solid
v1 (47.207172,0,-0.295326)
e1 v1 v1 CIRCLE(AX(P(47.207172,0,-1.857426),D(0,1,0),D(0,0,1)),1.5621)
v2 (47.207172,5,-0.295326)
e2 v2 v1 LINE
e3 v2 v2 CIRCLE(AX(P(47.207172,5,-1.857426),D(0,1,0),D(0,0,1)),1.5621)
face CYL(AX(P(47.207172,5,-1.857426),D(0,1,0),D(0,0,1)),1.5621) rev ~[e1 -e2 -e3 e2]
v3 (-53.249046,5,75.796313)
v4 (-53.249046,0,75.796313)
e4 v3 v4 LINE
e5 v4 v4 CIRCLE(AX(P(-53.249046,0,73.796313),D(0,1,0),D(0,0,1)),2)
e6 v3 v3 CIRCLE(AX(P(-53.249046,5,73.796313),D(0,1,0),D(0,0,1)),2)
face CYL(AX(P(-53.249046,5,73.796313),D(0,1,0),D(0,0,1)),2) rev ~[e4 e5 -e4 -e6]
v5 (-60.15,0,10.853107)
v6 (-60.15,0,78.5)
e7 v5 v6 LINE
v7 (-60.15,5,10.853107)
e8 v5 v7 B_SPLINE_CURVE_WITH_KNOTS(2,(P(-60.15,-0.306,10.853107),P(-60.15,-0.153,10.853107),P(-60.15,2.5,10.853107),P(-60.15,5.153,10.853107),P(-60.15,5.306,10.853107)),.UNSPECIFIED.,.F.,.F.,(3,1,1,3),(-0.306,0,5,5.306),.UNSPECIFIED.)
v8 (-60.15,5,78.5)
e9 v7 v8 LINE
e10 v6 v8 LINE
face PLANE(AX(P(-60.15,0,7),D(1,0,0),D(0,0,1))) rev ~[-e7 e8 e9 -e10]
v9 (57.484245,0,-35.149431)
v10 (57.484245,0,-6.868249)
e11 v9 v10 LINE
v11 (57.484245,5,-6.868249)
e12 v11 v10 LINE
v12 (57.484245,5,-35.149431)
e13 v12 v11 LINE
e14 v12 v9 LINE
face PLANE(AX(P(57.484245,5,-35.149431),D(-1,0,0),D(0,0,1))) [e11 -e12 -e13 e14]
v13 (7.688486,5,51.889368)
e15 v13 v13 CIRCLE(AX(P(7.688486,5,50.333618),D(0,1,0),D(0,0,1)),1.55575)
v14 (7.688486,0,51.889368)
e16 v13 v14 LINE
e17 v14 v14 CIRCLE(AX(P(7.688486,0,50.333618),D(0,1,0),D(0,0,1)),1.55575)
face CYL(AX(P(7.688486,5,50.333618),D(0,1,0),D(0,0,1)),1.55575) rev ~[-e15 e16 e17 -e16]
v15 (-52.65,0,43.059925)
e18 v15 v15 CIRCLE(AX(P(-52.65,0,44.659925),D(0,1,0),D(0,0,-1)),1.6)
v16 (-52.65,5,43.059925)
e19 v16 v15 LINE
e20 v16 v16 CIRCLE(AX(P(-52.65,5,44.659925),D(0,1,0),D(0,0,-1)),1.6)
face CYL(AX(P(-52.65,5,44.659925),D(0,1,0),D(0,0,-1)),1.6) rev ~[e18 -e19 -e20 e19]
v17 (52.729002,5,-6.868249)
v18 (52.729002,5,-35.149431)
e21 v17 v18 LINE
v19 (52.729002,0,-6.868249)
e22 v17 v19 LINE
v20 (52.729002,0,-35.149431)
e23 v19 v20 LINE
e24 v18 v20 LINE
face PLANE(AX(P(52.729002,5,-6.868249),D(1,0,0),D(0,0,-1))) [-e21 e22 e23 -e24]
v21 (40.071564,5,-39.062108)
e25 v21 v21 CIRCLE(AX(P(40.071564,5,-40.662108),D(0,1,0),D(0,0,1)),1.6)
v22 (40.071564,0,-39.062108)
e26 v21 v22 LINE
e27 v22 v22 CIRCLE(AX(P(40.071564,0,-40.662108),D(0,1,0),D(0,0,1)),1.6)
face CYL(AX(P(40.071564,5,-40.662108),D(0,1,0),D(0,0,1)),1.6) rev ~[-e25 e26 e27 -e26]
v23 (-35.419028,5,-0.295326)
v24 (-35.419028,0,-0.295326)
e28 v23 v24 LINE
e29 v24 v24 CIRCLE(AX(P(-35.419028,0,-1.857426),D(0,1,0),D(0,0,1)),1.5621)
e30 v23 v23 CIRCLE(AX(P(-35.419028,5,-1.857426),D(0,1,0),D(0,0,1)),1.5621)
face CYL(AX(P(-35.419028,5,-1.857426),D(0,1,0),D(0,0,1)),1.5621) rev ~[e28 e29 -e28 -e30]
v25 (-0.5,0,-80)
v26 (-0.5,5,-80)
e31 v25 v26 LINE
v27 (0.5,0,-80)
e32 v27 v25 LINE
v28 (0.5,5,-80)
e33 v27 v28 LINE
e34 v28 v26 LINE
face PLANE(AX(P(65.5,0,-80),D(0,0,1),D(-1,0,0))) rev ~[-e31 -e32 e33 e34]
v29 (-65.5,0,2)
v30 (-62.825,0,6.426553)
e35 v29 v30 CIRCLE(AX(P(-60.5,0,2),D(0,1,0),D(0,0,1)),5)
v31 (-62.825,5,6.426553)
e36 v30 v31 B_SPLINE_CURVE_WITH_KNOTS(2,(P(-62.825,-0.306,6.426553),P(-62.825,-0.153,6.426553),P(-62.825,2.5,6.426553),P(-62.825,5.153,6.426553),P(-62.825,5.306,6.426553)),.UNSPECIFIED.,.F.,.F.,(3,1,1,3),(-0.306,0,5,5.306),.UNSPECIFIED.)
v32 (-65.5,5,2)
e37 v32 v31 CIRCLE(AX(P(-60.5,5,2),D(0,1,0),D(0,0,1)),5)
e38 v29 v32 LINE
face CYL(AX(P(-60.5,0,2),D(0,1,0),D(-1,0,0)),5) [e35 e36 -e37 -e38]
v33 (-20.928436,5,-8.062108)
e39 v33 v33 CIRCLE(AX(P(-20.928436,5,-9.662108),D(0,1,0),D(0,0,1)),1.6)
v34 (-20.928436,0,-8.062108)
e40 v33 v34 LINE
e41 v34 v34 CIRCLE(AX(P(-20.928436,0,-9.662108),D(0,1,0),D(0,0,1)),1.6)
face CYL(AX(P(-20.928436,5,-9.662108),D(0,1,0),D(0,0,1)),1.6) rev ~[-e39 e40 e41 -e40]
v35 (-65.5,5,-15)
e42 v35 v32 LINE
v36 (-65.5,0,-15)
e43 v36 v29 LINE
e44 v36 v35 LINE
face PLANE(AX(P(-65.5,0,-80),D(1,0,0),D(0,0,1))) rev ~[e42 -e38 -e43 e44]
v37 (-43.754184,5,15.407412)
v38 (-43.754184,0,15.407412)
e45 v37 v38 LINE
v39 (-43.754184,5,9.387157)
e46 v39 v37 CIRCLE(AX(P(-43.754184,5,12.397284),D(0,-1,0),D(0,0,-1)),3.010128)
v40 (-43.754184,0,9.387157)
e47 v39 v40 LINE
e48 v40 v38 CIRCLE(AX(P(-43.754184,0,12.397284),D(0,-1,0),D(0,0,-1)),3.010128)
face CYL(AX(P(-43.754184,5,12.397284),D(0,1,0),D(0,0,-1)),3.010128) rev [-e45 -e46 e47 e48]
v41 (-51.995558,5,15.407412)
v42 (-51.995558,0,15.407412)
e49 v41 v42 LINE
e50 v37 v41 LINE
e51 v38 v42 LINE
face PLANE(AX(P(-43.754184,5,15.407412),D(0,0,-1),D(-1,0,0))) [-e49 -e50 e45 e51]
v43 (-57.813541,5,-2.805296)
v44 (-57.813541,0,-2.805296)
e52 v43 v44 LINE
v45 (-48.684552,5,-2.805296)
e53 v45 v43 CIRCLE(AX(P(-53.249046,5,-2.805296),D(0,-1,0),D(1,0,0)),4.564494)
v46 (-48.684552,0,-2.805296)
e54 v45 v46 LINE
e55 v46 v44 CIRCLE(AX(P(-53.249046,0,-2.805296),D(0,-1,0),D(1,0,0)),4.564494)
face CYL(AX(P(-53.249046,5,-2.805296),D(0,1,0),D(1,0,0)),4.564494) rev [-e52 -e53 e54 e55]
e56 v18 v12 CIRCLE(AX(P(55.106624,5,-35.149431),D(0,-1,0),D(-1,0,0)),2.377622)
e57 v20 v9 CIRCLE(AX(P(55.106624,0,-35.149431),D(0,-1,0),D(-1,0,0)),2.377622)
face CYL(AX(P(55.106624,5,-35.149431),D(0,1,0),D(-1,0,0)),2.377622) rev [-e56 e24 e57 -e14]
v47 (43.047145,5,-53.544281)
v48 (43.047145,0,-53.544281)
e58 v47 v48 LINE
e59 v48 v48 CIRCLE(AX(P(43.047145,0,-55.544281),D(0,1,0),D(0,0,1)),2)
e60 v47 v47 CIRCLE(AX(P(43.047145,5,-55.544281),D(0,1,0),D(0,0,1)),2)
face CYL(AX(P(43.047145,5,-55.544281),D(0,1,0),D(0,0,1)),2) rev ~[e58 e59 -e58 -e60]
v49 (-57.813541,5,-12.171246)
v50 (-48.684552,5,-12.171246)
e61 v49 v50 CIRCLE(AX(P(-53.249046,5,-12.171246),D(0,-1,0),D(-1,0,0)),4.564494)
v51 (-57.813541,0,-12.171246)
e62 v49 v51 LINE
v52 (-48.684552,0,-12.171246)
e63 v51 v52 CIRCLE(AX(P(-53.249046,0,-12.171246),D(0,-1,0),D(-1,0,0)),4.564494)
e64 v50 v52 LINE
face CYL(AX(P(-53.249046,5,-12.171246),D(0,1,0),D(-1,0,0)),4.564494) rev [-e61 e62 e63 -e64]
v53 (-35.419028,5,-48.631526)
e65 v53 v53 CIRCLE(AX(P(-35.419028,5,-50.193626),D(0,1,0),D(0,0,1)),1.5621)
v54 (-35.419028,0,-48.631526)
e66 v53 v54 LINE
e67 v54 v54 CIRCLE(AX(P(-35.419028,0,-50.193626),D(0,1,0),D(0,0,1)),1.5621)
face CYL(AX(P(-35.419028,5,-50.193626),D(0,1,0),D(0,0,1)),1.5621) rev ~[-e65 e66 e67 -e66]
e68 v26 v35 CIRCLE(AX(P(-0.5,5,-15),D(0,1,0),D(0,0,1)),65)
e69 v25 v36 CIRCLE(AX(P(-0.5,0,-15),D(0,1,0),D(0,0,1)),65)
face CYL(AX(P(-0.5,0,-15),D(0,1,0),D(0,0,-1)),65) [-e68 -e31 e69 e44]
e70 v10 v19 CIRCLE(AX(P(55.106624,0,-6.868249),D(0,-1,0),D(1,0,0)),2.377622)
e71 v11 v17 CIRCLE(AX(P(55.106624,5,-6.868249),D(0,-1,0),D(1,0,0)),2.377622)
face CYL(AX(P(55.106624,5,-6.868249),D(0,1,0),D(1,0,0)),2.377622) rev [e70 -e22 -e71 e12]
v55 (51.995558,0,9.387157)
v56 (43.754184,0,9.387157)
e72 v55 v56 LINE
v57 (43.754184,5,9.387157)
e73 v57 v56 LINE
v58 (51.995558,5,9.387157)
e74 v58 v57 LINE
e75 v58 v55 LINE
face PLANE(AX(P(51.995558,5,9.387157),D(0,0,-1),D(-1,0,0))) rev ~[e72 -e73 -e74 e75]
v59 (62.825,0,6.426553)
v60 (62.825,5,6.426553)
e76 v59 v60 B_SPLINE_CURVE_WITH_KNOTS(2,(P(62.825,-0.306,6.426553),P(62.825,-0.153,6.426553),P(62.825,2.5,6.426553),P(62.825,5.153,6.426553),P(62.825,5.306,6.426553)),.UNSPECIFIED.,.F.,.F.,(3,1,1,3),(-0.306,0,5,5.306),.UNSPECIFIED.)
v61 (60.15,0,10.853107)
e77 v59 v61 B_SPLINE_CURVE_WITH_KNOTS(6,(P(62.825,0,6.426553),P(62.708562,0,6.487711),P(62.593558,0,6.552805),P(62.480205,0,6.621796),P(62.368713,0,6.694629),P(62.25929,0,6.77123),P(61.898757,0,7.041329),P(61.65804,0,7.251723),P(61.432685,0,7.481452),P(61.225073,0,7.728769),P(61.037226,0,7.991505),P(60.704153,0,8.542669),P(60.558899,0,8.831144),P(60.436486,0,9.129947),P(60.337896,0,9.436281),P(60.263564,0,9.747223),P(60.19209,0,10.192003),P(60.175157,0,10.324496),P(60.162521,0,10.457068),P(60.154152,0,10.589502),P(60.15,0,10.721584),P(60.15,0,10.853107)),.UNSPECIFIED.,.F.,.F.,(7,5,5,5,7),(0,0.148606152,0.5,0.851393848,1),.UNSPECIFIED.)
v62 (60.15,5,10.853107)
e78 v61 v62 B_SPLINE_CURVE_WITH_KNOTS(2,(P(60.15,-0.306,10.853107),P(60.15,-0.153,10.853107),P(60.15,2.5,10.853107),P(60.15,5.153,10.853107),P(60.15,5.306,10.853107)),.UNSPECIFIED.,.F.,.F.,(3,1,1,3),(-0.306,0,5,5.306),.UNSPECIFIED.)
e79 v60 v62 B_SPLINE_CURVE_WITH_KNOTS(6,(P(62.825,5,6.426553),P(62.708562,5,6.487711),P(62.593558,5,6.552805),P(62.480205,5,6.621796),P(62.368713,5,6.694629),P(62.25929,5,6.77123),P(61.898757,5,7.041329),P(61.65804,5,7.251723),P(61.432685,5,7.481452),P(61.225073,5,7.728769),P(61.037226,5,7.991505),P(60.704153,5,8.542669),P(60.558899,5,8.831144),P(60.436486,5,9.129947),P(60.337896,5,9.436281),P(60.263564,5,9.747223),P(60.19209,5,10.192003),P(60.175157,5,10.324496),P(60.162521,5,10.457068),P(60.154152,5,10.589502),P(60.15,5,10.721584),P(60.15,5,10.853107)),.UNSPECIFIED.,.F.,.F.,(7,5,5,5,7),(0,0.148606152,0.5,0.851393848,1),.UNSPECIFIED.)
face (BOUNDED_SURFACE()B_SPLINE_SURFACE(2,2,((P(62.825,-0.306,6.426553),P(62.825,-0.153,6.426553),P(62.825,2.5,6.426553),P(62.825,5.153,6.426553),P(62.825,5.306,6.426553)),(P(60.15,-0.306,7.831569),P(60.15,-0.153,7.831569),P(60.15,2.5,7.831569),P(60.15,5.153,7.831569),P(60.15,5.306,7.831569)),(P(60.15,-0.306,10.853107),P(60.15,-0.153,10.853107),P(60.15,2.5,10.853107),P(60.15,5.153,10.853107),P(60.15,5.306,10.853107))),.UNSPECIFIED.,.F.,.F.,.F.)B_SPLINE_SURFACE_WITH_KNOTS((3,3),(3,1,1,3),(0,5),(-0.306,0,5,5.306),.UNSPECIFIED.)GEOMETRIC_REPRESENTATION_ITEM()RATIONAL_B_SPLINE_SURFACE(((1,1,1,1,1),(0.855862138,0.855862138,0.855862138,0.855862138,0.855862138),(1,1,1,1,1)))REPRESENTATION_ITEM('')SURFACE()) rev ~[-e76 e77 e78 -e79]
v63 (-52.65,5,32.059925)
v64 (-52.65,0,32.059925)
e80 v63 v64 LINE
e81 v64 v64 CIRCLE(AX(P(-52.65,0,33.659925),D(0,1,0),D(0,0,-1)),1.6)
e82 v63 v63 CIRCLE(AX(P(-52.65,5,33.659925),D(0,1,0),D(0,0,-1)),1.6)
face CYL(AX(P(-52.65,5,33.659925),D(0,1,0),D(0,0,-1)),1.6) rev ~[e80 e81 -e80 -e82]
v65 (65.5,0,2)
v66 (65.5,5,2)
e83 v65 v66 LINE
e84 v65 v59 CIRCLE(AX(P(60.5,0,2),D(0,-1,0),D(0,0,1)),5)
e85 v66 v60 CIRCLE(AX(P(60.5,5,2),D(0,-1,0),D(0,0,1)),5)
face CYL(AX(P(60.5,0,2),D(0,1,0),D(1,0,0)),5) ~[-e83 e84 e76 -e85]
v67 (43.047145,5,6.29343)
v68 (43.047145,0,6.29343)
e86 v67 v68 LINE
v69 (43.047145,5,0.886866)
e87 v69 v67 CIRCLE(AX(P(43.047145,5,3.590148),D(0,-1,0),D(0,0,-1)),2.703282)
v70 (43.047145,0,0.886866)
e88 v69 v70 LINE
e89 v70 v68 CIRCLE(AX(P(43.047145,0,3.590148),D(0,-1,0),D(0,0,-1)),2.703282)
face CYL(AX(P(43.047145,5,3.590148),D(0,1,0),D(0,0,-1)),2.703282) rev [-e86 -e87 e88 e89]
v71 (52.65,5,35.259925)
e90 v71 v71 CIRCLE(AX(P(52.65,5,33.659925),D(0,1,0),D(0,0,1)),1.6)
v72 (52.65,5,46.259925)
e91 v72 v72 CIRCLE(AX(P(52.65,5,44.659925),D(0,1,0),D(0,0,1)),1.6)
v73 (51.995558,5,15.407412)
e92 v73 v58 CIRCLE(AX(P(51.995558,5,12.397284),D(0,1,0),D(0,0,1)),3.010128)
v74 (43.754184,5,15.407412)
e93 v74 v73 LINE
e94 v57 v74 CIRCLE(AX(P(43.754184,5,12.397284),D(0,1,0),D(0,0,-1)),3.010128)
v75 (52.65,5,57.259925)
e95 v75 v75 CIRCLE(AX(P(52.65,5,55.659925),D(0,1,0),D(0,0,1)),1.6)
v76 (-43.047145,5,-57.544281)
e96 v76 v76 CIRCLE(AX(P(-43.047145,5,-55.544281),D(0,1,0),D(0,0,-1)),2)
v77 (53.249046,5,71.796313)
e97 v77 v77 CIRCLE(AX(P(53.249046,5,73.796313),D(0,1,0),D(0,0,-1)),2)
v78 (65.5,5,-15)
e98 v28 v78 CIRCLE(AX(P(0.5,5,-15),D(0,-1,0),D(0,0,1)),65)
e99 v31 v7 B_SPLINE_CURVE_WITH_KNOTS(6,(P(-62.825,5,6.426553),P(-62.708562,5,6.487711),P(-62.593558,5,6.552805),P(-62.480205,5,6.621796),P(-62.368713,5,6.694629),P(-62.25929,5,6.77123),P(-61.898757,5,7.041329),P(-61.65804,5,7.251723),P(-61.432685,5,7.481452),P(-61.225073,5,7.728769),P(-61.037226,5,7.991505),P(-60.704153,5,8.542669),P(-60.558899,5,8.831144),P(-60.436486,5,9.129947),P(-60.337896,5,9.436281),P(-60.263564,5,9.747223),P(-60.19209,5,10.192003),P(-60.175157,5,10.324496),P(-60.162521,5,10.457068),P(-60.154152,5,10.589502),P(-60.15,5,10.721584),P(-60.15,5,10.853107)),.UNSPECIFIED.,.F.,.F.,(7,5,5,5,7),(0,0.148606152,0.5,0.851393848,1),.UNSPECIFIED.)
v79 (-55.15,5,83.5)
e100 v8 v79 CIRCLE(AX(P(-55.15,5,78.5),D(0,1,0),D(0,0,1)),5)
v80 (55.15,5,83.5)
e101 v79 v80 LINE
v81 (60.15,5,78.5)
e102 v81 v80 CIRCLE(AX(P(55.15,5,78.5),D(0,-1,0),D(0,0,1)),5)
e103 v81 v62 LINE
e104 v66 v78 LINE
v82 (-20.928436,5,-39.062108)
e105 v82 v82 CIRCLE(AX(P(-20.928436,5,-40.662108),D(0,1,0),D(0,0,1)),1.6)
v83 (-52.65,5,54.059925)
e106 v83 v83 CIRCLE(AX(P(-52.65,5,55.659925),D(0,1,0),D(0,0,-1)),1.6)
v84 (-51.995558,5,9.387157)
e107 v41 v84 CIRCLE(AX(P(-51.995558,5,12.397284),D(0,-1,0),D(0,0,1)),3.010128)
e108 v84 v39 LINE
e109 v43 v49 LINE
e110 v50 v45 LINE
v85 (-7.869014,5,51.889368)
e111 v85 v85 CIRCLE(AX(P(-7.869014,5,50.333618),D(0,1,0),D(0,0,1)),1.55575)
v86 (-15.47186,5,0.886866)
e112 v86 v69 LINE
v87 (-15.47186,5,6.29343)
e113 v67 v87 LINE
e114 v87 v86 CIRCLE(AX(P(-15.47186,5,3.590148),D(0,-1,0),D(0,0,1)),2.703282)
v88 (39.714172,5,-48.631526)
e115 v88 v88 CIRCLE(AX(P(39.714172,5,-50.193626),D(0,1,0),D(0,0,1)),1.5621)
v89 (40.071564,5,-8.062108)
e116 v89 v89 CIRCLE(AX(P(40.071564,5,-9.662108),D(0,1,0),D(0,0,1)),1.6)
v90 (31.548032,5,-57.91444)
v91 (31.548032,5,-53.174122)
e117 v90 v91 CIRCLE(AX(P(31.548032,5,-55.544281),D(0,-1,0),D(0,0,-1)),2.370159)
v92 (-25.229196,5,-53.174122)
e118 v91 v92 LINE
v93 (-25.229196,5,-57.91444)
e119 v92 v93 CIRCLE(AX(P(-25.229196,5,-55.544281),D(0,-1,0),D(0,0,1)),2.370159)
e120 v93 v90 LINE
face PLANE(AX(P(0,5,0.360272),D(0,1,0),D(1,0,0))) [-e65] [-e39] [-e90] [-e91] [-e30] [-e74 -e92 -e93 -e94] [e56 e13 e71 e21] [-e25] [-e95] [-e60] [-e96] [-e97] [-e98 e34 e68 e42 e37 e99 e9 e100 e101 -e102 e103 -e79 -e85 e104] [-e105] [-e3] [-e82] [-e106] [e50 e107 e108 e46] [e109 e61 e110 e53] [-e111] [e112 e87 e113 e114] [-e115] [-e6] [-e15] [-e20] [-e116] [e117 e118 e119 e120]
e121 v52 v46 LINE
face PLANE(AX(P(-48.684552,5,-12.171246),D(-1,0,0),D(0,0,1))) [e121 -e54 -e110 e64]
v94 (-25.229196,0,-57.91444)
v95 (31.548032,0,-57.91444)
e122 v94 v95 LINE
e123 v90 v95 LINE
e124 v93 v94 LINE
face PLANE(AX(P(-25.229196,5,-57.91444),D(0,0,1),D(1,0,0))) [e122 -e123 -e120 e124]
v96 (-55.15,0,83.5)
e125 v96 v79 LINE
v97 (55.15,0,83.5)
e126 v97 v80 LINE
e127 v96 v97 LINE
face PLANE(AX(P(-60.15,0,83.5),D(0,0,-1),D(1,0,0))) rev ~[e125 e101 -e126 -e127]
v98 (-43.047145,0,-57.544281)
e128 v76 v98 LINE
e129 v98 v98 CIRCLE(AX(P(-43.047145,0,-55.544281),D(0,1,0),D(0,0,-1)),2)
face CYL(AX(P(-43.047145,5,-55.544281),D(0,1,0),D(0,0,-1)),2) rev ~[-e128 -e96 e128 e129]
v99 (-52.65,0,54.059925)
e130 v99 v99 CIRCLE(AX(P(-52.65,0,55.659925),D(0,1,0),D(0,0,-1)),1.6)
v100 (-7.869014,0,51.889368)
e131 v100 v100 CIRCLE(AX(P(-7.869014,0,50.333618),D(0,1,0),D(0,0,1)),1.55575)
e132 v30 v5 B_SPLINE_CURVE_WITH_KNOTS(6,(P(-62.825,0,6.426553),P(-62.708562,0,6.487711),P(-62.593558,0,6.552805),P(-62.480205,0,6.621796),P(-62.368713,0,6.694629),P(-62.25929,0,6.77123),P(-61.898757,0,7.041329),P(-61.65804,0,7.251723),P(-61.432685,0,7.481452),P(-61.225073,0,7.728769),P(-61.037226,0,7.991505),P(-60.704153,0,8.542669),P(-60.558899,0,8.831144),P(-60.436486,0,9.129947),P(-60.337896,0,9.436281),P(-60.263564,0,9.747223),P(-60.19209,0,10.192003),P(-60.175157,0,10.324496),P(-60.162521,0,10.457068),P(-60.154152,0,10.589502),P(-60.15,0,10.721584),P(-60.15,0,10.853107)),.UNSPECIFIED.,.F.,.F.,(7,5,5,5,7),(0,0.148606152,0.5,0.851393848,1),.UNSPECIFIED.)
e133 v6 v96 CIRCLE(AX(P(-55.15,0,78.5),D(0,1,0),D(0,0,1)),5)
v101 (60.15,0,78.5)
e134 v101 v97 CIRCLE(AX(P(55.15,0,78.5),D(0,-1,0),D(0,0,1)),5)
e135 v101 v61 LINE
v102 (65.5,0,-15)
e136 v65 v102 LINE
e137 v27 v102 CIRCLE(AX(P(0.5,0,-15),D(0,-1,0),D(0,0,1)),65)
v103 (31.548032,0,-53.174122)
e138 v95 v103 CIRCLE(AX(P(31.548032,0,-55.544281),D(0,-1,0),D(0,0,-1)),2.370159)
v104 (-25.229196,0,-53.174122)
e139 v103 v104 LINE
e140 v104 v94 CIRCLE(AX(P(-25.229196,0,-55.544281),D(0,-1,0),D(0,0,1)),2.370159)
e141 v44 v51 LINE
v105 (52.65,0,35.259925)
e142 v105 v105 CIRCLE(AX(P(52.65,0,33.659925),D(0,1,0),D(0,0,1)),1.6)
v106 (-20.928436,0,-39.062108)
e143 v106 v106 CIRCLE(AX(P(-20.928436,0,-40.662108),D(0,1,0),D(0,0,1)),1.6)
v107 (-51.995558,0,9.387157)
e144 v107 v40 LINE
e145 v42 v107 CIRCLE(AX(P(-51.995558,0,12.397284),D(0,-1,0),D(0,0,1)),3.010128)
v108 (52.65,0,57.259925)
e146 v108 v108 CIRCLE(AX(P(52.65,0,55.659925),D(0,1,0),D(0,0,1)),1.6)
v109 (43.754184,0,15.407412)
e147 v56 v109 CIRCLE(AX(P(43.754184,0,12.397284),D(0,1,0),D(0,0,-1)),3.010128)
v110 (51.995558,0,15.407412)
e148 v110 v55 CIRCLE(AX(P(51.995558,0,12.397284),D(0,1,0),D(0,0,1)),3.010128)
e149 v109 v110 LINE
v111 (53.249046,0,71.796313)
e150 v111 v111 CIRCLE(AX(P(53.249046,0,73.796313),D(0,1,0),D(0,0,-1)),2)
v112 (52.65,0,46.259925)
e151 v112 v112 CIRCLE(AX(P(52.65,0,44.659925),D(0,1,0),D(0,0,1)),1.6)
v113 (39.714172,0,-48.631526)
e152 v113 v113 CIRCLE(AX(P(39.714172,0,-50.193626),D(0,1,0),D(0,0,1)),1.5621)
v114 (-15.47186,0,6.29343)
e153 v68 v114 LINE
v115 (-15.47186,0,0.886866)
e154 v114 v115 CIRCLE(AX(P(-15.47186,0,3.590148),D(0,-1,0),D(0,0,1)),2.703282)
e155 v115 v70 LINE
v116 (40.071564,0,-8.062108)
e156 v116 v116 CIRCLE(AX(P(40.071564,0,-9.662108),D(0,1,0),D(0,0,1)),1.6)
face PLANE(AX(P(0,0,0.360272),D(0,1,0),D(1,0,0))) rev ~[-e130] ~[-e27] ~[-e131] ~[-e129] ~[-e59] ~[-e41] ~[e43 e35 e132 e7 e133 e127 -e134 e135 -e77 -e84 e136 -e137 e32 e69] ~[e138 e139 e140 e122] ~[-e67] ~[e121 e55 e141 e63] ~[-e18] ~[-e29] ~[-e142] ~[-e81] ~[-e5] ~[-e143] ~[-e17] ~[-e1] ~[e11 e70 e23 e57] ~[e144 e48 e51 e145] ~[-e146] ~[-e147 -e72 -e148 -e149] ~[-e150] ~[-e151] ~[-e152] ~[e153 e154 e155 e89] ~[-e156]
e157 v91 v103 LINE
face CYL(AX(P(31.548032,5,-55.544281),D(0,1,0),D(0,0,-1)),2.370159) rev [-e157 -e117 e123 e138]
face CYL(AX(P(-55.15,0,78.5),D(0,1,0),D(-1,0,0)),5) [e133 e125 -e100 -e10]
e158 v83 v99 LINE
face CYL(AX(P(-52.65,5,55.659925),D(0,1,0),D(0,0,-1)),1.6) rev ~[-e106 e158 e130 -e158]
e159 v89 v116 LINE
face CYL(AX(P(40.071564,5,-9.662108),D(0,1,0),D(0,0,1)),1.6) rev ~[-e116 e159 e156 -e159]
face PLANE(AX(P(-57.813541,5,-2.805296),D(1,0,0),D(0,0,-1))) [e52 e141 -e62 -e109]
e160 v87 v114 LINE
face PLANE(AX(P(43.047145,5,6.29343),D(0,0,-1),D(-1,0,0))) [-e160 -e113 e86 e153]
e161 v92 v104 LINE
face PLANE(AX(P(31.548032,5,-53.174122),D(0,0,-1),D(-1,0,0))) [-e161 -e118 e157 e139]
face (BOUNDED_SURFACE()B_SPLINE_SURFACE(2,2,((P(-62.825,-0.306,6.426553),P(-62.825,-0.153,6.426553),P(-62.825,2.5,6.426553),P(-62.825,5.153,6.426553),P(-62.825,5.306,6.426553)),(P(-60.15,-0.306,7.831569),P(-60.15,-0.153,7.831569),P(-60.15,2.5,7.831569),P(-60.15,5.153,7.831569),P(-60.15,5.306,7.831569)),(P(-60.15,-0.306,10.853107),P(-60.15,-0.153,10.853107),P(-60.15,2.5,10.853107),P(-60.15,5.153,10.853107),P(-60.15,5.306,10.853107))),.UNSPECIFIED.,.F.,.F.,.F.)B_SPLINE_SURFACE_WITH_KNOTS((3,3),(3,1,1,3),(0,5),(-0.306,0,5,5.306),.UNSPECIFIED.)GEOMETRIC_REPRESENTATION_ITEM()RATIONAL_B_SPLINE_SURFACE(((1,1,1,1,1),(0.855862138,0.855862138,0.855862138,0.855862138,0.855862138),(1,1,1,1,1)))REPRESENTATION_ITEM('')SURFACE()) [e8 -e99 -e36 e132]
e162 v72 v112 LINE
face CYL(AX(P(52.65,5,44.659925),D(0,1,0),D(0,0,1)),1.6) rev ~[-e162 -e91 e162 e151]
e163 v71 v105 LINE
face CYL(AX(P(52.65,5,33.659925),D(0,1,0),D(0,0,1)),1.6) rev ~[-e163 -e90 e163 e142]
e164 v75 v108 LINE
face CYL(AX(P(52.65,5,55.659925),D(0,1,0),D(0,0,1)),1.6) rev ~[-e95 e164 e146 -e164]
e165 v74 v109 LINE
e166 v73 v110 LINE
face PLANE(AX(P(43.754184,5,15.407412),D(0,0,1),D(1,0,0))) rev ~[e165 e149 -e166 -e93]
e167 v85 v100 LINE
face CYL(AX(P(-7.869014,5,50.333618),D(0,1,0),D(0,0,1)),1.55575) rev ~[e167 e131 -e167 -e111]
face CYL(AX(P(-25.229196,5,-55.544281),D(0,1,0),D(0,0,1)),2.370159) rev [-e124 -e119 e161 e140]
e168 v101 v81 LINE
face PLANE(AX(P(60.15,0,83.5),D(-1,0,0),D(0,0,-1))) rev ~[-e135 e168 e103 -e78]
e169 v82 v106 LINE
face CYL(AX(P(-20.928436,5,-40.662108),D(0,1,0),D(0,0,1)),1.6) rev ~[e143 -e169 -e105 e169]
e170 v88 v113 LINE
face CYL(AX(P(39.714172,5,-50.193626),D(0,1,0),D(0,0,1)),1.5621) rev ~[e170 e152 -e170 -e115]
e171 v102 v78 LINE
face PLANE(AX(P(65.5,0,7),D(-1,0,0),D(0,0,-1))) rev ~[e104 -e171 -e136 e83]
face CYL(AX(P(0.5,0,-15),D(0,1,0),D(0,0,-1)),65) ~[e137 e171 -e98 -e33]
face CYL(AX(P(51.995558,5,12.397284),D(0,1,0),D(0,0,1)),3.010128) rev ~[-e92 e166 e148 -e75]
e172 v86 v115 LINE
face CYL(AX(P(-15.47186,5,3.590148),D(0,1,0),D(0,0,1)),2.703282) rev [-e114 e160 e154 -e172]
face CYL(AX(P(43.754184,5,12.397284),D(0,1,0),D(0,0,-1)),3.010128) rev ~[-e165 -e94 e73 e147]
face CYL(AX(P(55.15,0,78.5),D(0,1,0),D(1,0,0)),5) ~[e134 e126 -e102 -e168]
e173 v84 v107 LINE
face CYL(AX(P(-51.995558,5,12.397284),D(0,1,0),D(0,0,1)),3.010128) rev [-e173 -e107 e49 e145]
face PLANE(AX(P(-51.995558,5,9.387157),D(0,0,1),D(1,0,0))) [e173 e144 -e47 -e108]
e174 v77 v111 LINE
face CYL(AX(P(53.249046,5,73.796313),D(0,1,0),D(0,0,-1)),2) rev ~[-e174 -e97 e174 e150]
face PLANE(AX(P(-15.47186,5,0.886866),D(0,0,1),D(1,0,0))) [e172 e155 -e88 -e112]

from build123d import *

# Parameters (mm, degrees)
BOSS_EXTRUDE2_DEPTH = 5
FILLET8_R           = 65
SKETCH4_R           = 2
SKETCH4_R_2         = 1.5621
SKETCH4_R_3         = 1.55575
SKETCH4_R_4         = 1.6
CUT_EXTRUDE1_DEPTH  = 5
FILLET9_R           = 5
FILLET10_R          = 5


with BuildPart() as part:
    # Sketch1 → Boss-Extrude2 (new body)
    with BuildSketch(Plane(origin=(0, 0, 0), x_dir=(1, 0, 0), z_dir=(0, 1, 0))):
        Polygon((65.5, 80), (-65.5, 80), (-65.5, -7), (-60.15, -7), (-60.15, -83.5), (60.15, -83.5), (60.15, -7), (65.5, -7), align=None)
    extrude(amount=BOSS_EXTRUDE2_DEPTH)

    # Fillet8
    fillet8_edges = [part.edges().sort_by_distance(p)[0] for p in [
        (-65.5, 2.5, -80),
        (65.5, 2.5, -80),
    ]]
    fillet(fillet8_edges, radius=FILLET8_R)

    # Sketch4 → Cut-Extrude1 (cut)
    with BuildSketch(Plane(origin=(0, 5, 0), x_dir=(1, 0, 0), z_dir=(0, 1, 0))):
        with Locations(Location((43.047144734, 55.54428083, 0), (0, 0, 270))):
            Circle(SKETCH4_R)
        with Locations(Location((-43.047144734, 55.54428083, 0), (0, 0, 90))):
            Circle(SKETCH4_R)
        with Locations(Location((-53.249046458, -73.796312774, 0), (0, 0, 270))):
            Circle(SKETCH4_R)
        with Locations(Location((53.249046458, -73.796312774, 0), (0, 0, 90))):
            Circle(SKETCH4_R)
        with Locations(Location((-35.41902795, 50.193626152, 0), (0, 0, 270))):
            Circle(SKETCH4_R_2)
        with Locations(Location((39.71417205, 50.193626152, 0), (0, 0, 270))):
            Circle(SKETCH4_R_2)
        with Locations(Location((-35.41902795, 1.857426152, 0), (0, 0, 270))):
            Circle(SKETCH4_R_2)
        with Locations(Location((47.20717205, 1.857426152, 0), (0, 0, 270))):
            Circle(SKETCH4_R_2)
        with Locations(Location((-7.869013511, -50.333617588, 0), (0, 0, 270))):
            Circle(SKETCH4_R_3)
        with Locations(Location((7.688486489, -50.333617588, 0), (0, 0, 270))):
            Circle(SKETCH4_R_3)
        with Locations(Location((40.071563944, 40.662108402, 0), (0, 0, 270))):
            Circle(SKETCH4_R_4)
        with Locations(Location((40.071563944, 9.662108402, 0), (0, 0, 270))):
            Circle(SKETCH4_R_4)
        with Locations(Location((-20.928436056, 40.662108402, 0), (0, 0, 270))):
            Circle(SKETCH4_R_4)
        with Locations(Location((-20.928436056, 9.662108402, 0), (0, 0, 270))):
            Circle(SKETCH4_R_4)
        with Locations(Location((52.65, -33.659925039, 0), (0, 0, 270))):
            Circle(SKETCH4_R_4)
        with Locations(Location((52.65, -44.659925039, 0), (0, 0, 270))):
            Circle(SKETCH4_R_4)
        with Locations(Location((52.65, -55.659925039, 0), (0, 0, 270))):
            Circle(SKETCH4_R_4)
        with Locations(Location((-52.65, -55.659925039, 0), (0, 0, 90))):
            Circle(SKETCH4_R_4)
        with Locations(Location((-52.65, -44.659925039, 0), (0, 0, 90))):
            Circle(SKETCH4_R_4)
        with Locations(Location((-52.65, -33.659925039, 0), (0, 0, 90))):
            Circle(SKETCH4_R_4)
        with BuildLine():
            Line((-25.229195822, 57.914440008), (31.548032439, 57.914440008))
            ThreePointArc((31.548032439, 57.914440008), (33.918191616, 55.54428083), (31.548032439, 53.174121653))
            Line((31.548032439, 53.174121653), (-25.229195822, 53.174121653))
            ThreePointArc((-25.229195822, 53.174121653), (-27.599355, 55.54428083), (-25.229195822, 57.914440008))
        make_face()
        with BuildLine():
            Line((-15.471860298, -0.8868659), (43.047144734, -0.8868659))
            ThreePointArc((43.047144734, -0.8868659), (45.750426625, -3.590147791), (43.047144734, -6.293429682))
            Line((43.047144734, -6.293429682), (-15.471860298, -6.293429682))
            ThreePointArc((-15.471860298, -6.293429682), (-18.175142189, -3.590147791), (-15.471860298, -0.8868659))
        make_face()
        with BuildLine():
            Line((57.484245228, 35.149431205), (57.484245228, 6.868248507))
            ThreePointArc((57.484245228, 6.868248507), (55.106623673, 4.490626953), (52.729002119, 6.868248507))
            Line((52.729002119, 6.868248507), (52.729002119, 35.149431205))
            ThreePointArc((52.729002119, 35.149431205), (55.106623673, 37.52705276), (57.484245228, 35.149431205))
        make_face()
        with BuildLine():
            Line((-51.995557855, -9.38715687), (-43.754184302, -9.38715687))
            ThreePointArc((-43.754184302, -9.38715687), (-40.74405673, -12.397284441), (-43.754184302, -15.407412013))
            Line((-43.754184302, -15.407412013), (-51.995557855, -15.407412013))
            ThreePointArc((-51.995557855, -15.407412013), (-55.005685427, -12.397284441), (-51.995557855, -9.38715687))
        make_face()
        with BuildLine():
            Line((51.995557855, -9.38715687), (43.754184302, -9.38715687))
            ThreePointArc((43.754184302, -9.38715687), (40.74405673, -12.397284441), (43.754184302, -15.407412013))
            Line((43.754184302, -15.407412013), (51.995557855, -15.407412013))
            ThreePointArc((51.995557855, -15.407412013), (55.005685427, -12.397284441), (51.995557855, -9.38715687))
        make_face()
        with BuildLine():
            Line((-48.684552143, 12.171246466), (-48.684552143, 2.805296047))
            ThreePointArc((-48.684552143, 2.805296047), (-53.249046458, -1.759198268), (-57.813540773, 2.805296047))
            Line((-57.813540773, 2.805296047), (-57.813540773, 12.171246466))
            ThreePointArc((-57.813540773, 12.171246466), (-53.249046458, 16.73574078), (-48.684552143, 12.171246466))
        make_face()
    extrude(amount=-CUT_EXTRUDE1_DEPTH, mode=Mode.SUBTRACT)

    # Fillet9
    fillet9_edges = [part.edges().sort_by_distance(p)[0] for p in [
        (60.15, 2.5, 83.5),
        (-60.15, 2.5, 83.5),
        (-65.5, 2.5, 7),
        (65.5, 2.5, 7),
    ]]
    fillet(fillet9_edges, radius=FILLET9_R)

    # Fillet10
    fillet10_edges = [part.edges().sort_by_distance(p)[0] for p in [
        (60.15, 2.5, 7),
        (-60.15, 2.5, 7),
    ]]
    fillet(fillet10_edges, radius=FILLET10_R)


solid = part.part
